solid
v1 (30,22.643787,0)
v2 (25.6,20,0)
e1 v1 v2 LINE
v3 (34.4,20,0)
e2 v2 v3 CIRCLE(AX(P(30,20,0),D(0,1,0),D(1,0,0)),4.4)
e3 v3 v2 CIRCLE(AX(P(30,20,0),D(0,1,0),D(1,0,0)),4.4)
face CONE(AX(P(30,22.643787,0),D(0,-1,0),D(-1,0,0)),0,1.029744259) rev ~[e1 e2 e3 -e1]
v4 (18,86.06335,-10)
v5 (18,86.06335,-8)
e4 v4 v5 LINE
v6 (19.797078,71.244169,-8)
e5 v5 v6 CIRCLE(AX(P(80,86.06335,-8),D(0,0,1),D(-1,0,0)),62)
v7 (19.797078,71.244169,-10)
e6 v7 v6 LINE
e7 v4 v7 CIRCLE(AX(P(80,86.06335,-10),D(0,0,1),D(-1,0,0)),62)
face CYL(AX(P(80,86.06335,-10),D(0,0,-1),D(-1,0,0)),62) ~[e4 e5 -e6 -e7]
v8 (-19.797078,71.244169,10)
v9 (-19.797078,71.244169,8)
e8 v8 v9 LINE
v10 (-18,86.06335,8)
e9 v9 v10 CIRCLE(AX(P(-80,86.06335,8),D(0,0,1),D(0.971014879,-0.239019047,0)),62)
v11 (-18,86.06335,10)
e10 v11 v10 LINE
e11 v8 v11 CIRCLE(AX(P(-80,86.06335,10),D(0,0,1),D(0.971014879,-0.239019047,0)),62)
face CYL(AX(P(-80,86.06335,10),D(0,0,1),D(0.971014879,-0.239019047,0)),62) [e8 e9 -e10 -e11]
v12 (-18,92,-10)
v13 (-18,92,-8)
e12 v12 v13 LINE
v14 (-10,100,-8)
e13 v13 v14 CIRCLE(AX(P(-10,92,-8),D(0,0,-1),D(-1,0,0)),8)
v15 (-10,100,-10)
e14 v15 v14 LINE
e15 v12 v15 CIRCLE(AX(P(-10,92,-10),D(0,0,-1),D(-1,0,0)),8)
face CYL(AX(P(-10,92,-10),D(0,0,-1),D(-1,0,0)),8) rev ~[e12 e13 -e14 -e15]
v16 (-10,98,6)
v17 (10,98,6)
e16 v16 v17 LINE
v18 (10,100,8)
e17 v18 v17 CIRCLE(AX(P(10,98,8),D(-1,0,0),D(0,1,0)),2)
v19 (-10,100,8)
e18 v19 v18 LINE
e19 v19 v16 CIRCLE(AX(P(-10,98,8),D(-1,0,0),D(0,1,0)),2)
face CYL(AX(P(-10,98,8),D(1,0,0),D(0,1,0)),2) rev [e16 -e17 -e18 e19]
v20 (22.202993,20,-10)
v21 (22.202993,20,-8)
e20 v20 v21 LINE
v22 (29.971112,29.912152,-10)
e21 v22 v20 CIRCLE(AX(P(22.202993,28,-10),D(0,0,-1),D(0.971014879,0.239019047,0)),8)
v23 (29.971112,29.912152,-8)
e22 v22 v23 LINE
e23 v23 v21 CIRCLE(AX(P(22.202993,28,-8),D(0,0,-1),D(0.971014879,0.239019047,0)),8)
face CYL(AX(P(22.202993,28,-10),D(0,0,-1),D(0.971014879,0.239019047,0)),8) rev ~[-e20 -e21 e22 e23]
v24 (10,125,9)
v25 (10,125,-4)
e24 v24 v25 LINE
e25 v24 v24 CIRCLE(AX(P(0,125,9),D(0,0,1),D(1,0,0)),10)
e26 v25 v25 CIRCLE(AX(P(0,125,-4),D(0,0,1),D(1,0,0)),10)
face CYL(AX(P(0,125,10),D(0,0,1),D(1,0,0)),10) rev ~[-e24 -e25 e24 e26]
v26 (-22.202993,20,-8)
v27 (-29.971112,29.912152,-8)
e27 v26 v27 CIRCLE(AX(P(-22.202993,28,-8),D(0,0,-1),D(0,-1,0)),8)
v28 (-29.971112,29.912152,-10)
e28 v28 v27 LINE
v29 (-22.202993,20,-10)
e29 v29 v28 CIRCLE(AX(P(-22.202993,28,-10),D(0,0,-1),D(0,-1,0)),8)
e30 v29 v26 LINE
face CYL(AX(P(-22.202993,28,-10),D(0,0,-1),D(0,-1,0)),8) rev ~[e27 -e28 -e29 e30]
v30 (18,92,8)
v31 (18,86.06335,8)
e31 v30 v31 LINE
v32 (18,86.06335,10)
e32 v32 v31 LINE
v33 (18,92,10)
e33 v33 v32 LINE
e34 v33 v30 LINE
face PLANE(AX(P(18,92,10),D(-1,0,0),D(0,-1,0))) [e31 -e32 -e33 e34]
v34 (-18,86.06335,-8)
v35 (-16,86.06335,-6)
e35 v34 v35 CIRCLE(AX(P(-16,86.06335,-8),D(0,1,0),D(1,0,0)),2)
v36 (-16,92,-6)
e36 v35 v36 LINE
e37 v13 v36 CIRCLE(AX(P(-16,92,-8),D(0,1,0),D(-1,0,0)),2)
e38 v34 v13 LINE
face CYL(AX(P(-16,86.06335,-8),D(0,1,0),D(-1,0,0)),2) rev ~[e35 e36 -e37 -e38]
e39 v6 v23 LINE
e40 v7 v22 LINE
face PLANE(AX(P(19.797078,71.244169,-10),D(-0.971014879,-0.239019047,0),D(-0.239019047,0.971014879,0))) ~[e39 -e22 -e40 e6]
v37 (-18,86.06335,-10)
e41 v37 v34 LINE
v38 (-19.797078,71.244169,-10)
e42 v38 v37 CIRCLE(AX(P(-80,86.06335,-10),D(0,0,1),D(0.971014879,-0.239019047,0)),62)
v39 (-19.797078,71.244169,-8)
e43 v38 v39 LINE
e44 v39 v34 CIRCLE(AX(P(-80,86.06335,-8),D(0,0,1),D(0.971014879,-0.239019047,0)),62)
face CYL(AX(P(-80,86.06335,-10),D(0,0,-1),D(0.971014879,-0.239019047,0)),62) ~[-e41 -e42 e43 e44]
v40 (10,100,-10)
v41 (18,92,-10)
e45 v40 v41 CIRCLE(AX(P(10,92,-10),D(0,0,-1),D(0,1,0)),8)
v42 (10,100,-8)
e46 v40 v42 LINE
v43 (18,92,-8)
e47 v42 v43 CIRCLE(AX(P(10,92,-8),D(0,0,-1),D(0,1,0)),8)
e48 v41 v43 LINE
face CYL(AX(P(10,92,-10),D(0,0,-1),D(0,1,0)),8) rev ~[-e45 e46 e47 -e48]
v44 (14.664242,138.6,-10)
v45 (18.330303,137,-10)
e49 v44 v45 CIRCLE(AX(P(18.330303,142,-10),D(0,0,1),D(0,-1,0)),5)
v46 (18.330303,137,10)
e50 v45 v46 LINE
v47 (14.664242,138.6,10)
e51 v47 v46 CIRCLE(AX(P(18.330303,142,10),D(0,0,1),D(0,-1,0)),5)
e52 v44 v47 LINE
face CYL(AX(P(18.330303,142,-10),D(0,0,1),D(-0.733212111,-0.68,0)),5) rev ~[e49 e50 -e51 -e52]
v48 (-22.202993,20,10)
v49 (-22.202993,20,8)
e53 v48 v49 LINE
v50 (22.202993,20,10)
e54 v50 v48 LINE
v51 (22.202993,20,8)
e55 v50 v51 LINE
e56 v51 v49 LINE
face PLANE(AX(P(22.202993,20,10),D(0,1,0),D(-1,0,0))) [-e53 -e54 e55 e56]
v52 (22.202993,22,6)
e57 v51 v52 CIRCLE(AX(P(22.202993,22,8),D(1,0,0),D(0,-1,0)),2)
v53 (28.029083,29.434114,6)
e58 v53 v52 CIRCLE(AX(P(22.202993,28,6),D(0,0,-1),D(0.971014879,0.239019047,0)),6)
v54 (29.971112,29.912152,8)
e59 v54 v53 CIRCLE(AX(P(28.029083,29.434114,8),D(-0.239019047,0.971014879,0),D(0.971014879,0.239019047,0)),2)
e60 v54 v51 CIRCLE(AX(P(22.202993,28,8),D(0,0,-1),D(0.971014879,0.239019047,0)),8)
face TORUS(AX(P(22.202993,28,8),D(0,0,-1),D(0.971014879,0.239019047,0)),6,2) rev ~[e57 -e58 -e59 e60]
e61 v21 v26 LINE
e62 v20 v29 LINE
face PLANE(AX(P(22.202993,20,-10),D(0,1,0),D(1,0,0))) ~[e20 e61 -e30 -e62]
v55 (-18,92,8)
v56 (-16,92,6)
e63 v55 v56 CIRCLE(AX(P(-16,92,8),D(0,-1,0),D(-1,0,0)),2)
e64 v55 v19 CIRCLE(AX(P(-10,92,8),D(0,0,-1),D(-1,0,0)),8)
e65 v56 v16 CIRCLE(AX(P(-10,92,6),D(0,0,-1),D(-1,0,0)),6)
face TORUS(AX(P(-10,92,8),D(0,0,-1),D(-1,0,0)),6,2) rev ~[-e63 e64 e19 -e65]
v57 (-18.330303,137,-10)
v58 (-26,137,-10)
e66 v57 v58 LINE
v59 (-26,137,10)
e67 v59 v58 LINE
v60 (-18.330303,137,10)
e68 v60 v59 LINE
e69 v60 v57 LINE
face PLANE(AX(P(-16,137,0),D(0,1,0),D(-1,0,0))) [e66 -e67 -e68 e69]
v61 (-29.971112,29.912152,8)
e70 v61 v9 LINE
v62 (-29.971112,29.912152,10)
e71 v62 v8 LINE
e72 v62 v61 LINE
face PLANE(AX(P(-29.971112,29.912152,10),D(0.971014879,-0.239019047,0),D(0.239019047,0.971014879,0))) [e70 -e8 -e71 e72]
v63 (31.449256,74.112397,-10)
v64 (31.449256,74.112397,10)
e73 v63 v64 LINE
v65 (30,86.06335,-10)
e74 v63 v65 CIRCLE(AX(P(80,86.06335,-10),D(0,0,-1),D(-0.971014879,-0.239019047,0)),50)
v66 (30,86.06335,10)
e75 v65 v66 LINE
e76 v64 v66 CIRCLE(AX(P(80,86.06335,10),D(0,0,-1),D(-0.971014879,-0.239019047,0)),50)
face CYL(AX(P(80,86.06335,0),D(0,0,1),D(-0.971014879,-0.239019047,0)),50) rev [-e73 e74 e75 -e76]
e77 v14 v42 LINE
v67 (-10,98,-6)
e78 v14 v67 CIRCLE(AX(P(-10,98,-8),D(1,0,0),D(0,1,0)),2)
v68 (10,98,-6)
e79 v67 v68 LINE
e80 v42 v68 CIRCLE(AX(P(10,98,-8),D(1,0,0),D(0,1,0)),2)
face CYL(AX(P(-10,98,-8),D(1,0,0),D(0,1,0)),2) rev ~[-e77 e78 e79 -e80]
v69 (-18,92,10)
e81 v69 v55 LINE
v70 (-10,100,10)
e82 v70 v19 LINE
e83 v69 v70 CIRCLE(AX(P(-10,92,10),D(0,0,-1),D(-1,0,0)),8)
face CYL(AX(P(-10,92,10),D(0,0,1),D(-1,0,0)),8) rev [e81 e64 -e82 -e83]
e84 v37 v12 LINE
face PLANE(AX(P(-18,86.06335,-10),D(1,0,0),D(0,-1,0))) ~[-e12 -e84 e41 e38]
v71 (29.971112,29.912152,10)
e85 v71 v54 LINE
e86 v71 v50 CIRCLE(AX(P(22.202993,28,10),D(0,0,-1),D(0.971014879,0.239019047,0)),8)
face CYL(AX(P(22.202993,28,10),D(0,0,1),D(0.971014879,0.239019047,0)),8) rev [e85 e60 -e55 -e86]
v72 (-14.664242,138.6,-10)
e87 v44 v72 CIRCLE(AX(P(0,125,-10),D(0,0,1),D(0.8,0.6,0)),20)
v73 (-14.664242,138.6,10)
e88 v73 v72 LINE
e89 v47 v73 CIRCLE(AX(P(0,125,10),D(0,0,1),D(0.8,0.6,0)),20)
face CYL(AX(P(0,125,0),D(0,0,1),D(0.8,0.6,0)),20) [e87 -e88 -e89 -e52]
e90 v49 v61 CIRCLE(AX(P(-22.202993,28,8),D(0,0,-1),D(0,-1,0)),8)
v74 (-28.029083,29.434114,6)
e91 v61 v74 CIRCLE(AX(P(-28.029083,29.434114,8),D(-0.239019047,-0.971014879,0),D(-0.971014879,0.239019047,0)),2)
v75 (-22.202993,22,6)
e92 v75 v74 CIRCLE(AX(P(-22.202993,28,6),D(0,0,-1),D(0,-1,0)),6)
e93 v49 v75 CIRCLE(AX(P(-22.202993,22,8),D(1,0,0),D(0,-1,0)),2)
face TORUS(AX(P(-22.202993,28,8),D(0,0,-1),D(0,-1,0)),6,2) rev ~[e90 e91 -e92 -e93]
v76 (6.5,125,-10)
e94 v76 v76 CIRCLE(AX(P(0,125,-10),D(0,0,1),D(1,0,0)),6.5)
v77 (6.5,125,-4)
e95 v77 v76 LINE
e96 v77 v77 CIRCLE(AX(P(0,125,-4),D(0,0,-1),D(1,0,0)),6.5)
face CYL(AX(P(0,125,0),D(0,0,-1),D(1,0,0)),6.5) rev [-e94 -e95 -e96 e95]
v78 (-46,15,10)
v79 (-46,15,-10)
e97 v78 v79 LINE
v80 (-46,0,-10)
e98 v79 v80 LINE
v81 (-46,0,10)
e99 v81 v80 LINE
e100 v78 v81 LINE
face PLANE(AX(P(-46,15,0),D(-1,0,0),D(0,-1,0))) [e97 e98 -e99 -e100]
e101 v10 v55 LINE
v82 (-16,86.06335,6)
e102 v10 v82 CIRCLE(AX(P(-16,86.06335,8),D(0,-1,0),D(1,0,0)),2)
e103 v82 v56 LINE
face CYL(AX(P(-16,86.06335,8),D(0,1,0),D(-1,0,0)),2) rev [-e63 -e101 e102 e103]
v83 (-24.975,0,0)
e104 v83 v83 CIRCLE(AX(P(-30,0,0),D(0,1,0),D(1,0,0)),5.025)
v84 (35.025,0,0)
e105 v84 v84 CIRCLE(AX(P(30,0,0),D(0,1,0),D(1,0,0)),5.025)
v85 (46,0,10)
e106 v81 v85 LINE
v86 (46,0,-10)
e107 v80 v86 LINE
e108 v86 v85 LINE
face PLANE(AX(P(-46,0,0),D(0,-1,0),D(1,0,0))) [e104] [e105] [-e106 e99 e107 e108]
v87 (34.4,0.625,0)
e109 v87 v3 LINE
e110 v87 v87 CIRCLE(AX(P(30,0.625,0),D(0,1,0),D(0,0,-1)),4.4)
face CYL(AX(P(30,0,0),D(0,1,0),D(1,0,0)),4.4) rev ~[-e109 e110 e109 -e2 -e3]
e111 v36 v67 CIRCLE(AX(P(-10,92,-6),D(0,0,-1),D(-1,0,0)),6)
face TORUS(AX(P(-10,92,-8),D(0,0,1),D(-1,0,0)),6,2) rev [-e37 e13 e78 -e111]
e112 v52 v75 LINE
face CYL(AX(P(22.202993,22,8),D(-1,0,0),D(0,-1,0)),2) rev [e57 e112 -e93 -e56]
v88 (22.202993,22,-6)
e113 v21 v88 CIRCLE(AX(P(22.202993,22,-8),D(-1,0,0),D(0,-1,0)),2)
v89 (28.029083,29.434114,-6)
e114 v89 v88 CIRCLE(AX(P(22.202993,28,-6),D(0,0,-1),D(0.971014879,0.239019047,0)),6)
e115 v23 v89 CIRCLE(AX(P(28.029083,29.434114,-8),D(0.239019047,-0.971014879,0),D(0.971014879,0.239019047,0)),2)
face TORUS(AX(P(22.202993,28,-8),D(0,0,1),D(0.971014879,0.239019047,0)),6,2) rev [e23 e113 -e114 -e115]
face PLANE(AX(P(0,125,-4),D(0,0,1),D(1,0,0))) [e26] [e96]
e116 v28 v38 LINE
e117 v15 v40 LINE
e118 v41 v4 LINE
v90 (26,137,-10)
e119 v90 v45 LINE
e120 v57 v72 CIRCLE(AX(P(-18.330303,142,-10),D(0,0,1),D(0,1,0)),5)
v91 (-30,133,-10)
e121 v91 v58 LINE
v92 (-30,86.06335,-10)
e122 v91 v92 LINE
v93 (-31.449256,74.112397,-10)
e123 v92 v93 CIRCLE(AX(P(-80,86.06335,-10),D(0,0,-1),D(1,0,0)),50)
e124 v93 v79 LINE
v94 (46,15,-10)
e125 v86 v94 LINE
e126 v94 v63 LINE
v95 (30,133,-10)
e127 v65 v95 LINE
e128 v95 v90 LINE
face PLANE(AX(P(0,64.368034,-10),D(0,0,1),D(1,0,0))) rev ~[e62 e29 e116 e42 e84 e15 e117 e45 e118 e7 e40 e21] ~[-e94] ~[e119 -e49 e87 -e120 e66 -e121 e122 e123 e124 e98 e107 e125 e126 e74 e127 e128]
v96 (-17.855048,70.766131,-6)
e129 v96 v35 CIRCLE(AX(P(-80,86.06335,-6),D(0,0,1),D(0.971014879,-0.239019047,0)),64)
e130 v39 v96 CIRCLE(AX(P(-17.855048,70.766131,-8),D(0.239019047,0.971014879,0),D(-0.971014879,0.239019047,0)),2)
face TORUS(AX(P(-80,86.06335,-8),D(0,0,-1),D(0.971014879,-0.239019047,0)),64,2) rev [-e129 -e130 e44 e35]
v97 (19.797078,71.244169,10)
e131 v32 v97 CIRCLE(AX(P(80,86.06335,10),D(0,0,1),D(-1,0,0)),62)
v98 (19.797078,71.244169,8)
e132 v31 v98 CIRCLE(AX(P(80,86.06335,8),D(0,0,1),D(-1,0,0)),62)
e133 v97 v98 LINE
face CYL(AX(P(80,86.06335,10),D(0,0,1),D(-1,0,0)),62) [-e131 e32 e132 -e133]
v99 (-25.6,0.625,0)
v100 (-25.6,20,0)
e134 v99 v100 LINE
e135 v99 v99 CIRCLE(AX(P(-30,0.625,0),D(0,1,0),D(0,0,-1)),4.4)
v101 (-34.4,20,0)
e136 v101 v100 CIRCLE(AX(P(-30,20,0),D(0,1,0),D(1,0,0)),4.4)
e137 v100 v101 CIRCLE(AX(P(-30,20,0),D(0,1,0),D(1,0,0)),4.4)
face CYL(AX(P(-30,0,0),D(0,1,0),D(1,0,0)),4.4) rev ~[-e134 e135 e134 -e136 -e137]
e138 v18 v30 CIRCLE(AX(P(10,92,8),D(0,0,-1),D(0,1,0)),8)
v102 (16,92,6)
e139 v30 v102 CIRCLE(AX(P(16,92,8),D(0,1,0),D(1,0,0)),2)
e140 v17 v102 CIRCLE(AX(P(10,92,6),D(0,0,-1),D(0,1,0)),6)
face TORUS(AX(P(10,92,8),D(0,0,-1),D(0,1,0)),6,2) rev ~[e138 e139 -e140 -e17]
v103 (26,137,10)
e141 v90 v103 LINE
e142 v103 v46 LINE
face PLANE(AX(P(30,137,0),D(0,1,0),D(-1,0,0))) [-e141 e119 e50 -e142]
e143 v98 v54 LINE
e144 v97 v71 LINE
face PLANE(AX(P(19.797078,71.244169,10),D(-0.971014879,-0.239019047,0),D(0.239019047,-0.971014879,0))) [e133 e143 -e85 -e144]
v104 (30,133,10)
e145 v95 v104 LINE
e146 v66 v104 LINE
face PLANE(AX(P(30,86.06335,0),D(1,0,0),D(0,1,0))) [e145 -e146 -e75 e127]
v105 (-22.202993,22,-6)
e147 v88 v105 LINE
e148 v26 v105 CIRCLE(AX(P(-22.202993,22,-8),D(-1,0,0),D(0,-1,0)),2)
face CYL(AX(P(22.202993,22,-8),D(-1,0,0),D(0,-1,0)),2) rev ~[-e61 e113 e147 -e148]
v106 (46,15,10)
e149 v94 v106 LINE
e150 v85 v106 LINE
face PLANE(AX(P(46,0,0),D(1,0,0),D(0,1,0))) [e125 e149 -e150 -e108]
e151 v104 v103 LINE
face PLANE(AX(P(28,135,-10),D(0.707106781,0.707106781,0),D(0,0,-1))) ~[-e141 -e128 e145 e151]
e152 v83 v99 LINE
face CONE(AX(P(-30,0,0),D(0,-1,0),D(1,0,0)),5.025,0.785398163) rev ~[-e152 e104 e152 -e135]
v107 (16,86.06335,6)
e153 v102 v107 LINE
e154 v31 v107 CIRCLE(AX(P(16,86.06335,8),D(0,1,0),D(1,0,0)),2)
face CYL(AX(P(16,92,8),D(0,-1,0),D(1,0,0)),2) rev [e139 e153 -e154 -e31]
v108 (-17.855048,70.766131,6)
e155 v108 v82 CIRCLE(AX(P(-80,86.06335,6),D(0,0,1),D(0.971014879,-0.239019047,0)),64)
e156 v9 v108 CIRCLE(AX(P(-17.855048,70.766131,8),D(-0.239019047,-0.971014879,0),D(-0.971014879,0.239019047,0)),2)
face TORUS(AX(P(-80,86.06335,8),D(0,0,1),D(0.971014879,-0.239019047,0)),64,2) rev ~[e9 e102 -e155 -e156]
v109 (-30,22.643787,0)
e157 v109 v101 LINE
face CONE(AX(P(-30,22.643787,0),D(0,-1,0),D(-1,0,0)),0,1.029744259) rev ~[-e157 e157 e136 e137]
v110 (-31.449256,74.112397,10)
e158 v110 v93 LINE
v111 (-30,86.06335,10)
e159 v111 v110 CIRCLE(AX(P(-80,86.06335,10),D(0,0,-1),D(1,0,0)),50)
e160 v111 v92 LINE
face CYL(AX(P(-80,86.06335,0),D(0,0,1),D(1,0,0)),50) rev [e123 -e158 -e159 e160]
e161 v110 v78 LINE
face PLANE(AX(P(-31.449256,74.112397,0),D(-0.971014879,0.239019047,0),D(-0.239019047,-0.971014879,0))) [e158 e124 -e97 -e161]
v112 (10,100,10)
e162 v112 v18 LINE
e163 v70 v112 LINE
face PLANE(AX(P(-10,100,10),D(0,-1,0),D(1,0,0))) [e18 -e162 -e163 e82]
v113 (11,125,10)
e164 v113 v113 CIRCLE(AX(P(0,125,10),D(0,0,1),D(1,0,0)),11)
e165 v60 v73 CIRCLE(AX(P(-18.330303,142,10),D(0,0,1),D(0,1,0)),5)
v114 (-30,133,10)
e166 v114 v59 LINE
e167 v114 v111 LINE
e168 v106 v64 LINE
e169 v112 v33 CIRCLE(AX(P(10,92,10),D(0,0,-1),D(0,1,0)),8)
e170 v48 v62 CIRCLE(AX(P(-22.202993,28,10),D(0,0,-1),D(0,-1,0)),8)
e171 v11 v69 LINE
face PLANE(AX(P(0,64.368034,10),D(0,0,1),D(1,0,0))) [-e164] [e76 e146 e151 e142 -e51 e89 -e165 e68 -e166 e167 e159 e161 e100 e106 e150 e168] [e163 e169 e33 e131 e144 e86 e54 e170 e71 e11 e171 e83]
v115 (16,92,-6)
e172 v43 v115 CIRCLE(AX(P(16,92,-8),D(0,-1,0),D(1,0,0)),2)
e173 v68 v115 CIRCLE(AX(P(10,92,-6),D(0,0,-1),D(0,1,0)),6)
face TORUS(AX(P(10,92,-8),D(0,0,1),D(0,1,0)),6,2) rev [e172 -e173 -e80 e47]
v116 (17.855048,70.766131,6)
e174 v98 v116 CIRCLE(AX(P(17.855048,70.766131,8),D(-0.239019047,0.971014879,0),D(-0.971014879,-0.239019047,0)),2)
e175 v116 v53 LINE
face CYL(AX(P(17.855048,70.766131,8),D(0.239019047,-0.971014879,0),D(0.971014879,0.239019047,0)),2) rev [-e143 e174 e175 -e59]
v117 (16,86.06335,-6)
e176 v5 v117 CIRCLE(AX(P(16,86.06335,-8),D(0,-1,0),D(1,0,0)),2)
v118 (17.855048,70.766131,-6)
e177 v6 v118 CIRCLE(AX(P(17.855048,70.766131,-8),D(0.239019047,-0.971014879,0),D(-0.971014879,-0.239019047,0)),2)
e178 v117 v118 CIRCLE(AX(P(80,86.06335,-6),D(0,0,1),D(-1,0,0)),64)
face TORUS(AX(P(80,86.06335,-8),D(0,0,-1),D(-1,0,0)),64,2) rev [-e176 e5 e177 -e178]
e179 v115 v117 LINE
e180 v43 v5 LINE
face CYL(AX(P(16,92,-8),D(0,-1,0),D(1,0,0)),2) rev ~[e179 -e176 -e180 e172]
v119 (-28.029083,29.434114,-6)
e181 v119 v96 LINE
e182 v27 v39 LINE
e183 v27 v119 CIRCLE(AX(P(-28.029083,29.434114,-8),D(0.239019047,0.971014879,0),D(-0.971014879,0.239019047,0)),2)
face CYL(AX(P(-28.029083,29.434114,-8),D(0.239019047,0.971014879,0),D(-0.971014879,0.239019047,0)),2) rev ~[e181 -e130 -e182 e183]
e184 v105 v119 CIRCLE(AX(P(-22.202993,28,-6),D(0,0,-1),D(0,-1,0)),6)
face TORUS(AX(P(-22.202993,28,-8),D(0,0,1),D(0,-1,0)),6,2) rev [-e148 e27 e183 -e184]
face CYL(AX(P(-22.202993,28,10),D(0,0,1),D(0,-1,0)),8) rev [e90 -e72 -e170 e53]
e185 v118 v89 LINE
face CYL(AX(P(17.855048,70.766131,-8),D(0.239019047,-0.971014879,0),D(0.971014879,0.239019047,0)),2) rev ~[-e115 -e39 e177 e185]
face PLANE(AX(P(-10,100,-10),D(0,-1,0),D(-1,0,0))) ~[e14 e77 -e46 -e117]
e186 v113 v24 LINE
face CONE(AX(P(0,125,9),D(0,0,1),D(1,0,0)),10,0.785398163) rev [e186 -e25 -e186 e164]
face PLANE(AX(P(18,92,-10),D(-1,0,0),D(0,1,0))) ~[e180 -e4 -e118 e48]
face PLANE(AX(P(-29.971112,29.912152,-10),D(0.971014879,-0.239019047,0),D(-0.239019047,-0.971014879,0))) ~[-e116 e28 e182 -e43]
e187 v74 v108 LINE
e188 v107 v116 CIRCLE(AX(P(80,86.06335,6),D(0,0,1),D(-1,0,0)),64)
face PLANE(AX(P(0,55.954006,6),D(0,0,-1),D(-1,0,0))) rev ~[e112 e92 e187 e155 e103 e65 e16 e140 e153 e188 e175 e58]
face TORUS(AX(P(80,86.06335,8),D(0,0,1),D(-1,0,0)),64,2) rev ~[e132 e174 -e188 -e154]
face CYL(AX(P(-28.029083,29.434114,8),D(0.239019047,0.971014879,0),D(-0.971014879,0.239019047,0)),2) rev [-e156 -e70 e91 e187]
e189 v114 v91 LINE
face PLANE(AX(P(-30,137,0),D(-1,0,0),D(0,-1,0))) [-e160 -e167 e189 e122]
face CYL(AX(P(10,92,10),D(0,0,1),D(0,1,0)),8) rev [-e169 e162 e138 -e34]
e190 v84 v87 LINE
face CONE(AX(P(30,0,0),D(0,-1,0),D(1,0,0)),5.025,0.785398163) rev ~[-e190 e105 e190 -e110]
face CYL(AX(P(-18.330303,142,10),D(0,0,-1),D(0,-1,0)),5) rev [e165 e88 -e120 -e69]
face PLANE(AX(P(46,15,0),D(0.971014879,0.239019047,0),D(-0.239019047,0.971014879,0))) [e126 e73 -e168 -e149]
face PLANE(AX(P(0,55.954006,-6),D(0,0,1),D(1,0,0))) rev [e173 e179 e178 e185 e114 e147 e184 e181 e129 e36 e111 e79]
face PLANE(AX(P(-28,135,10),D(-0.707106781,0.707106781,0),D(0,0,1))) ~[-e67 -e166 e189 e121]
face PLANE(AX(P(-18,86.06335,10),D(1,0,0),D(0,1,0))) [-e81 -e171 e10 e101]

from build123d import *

# Parameters (mm, degrees)
SKETCH1_R                         = 6.5
BOSS_EXTRUDE1_DEPTH               = 10
SKETCH2_R                         = 10
CUT_EXTRUDE1_DEPTH                = 14
CHAMFER1_SIZE                     = 1
CHAMFER2_SIZE                     = 4
FILLET1_R                         = 5
CUT_EXTRUDE2_DEPTH                = 4
FILLET2_R                         = 2
FILLET2_OF_MIRROR2_R              = 2
M10X1_25_TAPPED_HOLE1_D           = 8.8
M10X1_25_TAPPED_HOLE1_DEPTH       = 20
M10X1_25_TAPPED_HOLE1_CSINK_D     = 10.05
M10X1_25_TAPPED_HOLE1_CSINK_ANGLE = 90
M10X1_25_TAPPED_HOLE1_TIP         = 2.643786724


with BuildPart() as part:
    # Sketch1 → Boss-Extrude1 (new, symmetric)
    with BuildSketch(Plane.XY):
        with BuildLine():
            Line((-46, 0), (46, 0))
            Line((46, 0), (46, 15))
            Line((46, 15), (31.449256053, 74.112397284))
            ThreePointArc((31.449256053, 74.112397284), (30.363636327, 80.044097084), (30, 86.06334964))
            Line((30, 86.06334964), (30, 137))
            Line((30, 137), (16, 137))
            ThreePointArc((16, 137), (0, 145), (-16, 137))
            Line((-16, 137), (-30, 137))
            Line((-30, 137), (-30, 86.06334964))
            ThreePointArc((-30, 86.06334964), (-30.363636327, 80.044097084), (-31.449256053, 74.112397284))
            Line((-31.449256053, 74.112397284), (-46, 15))
            Line((-46, 15), (-46, 0))
        make_face()
        with Locations((0, 125)):
            Circle(SKETCH1_R, mode=Mode.SUBTRACT)
    extrude(amount=BOSS_EXTRUDE1_DEPTH, both=True)

    # Sketch2 → Cut-Extrude1 (cut)
    with BuildSketch(Plane.XY.offset(10)):
        with Locations((0, 125)):
            Circle(SKETCH2_R)
    extrude(amount=-CUT_EXTRUDE1_DEPTH, mode=Mode.SUBTRACT)

    # Chamfer1
    chamfer1_edges = [part.edges().sort_by_distance(p)[0] for p in [
        (-10, 125, 10),
    ]]
    chamfer(chamfer1_edges, length=CHAMFER1_SIZE)

    # Chamfer2
    chamfer2_edges = [part.edges().sort_by_distance(p)[0] for p in [
        (-30, 137, 0),
        (30, 137, 0),
    ]]
    chamfer(chamfer2_edges, length=CHAMFER2_SIZE)

    # Fillet1
    fillet1_edges = [part.edges().sort_by_distance(p)[0] for p in [
        (-16, 137, 0),
        (16, 137, 0),
    ]]
    fillet(fillet1_edges, radius=FILLET1_R)

    # Sketch10 → Cut-Extrude2 (cut)
    with BuildSketch(Plane.XY.offset(10)):
        with BuildLine():
            ThreePointArc((18, 86.06334964), (18.450909046, 78.59947647), (19.797077506, 71.244168718))
            Line((19.797077506, 71.244168718), (29.971112298, 29.912152377))
            ThreePointArc((29.971112298, 29.912152377), (28.49970745, 23.065287193), (22.202993266, 20))
            Line((22.202993266, 20), (-22.202993266, 20))
            ThreePointArc((-22.202993266, 20), (-28.49970745, 23.065287193), (-29.971112298, 29.912152377))
            Line((-29.971112298, 29.912152377), (-19.797077506, 71.244168718))
            ThreePointArc((-19.797077506, 71.244168718), (-18.450909046, 78.59947647), (-18, 86.06334964))
            Line((-18, 86.06334964), (-18, 92))
            ThreePointArc((-18, 92), (-15.656854249, 97.656854249), (-10, 100))
            Line((-10, 100), (10, 100))
            ThreePointArc((10, 100), (15.656854249, 97.656854249), (18, 92))
            Line((18, 92), (18, 86.06334964))
        make_face()
    cut_extrude2 = extrude(amount=-CUT_EXTRUDE2_DEPTH, mode=Mode.SUBTRACT)

    # Fillet2
    fillet2_edges = [part.edges().sort_by_distance(p)[0] for p in [
        (-24.884094902, 50.578160548, 6),
        (-18, 89.03167482, 6),
        (15.656854249, 97.656854249, 6),
        (18, 89.03167482, 6),
        (18.450909046, 78.59947647, 6),
        (-28.49970745, 23.065287193, 6),
        (-18.450909046, 78.59947647, 6),
        (-15.656854249, 97.656854249, 6),
        (0, 100, 6),
        (24.884094902, 50.578160548, 6),
        (28.49970745, 23.065287193, 6),
        (0, 20, 6),
    ]]
    fillet(fillet2_edges, radius=FILLET2_R)

    # Mirror2: Cut-Extrude2 across plane
    add(cut_extrude2.mirror(Plane.XY), mode=Mode.SUBTRACT)

    # Fillet2 of Mirror2
    fillet2_of_mirror2_edges = [part.edges().sort_by_distance(p)[0] for p in [
        (-24.884094902, 50.578160548, -6),
        (-18, 89.03167482, -6),
        (15.656854249, 97.656854249, -6),
        (18, 89.03167482, -6),
        (18.450909046, 78.59947647, -6),
        (-28.49970745, 23.065287193, -6),
        (-18.450909046, 78.59947647, -6),
        (-15.656854249, 97.656854249, -6),
        (0, 100, -6),
        (24.884094902, 50.578160548, -6),
        (28.49970745, 23.065287193, -6),
        (0, 20, -6),
    ]]
    fillet(fillet2_of_mirror2_edges, radius=FILLET2_OF_MIRROR2_R)

    # M10x1.25 Tapped Hole1
    with Locations(Plane(origin=(0, 0, 0), x_dir=(-1, 0, 0), z_dir=(0, -1, 0))):
        with Locations((-30, 0), (30, 0)):
            CounterSinkHole(M10X1_25_TAPPED_HOLE1_D / 2, M10X1_25_TAPPED_HOLE1_CSINK_D / 2, depth=M10X1_25_TAPPED_HOLE1_DEPTH, counter_sink_angle=M10X1_25_TAPPED_HOLE1_CSINK_ANGLE)
            with Locations((0, 0, -(M10X1_25_TAPPED_HOLE1_DEPTH + M10X1_25_TAPPED_HOLE1_TIP / 2))):  # 118° drill point
                Cone(0, M10X1_25_TAPPED_HOLE1_D / 2, M10X1_25_TAPPED_HOLE1_TIP, mode=Mode.SUBTRACT)


solid = part.part
